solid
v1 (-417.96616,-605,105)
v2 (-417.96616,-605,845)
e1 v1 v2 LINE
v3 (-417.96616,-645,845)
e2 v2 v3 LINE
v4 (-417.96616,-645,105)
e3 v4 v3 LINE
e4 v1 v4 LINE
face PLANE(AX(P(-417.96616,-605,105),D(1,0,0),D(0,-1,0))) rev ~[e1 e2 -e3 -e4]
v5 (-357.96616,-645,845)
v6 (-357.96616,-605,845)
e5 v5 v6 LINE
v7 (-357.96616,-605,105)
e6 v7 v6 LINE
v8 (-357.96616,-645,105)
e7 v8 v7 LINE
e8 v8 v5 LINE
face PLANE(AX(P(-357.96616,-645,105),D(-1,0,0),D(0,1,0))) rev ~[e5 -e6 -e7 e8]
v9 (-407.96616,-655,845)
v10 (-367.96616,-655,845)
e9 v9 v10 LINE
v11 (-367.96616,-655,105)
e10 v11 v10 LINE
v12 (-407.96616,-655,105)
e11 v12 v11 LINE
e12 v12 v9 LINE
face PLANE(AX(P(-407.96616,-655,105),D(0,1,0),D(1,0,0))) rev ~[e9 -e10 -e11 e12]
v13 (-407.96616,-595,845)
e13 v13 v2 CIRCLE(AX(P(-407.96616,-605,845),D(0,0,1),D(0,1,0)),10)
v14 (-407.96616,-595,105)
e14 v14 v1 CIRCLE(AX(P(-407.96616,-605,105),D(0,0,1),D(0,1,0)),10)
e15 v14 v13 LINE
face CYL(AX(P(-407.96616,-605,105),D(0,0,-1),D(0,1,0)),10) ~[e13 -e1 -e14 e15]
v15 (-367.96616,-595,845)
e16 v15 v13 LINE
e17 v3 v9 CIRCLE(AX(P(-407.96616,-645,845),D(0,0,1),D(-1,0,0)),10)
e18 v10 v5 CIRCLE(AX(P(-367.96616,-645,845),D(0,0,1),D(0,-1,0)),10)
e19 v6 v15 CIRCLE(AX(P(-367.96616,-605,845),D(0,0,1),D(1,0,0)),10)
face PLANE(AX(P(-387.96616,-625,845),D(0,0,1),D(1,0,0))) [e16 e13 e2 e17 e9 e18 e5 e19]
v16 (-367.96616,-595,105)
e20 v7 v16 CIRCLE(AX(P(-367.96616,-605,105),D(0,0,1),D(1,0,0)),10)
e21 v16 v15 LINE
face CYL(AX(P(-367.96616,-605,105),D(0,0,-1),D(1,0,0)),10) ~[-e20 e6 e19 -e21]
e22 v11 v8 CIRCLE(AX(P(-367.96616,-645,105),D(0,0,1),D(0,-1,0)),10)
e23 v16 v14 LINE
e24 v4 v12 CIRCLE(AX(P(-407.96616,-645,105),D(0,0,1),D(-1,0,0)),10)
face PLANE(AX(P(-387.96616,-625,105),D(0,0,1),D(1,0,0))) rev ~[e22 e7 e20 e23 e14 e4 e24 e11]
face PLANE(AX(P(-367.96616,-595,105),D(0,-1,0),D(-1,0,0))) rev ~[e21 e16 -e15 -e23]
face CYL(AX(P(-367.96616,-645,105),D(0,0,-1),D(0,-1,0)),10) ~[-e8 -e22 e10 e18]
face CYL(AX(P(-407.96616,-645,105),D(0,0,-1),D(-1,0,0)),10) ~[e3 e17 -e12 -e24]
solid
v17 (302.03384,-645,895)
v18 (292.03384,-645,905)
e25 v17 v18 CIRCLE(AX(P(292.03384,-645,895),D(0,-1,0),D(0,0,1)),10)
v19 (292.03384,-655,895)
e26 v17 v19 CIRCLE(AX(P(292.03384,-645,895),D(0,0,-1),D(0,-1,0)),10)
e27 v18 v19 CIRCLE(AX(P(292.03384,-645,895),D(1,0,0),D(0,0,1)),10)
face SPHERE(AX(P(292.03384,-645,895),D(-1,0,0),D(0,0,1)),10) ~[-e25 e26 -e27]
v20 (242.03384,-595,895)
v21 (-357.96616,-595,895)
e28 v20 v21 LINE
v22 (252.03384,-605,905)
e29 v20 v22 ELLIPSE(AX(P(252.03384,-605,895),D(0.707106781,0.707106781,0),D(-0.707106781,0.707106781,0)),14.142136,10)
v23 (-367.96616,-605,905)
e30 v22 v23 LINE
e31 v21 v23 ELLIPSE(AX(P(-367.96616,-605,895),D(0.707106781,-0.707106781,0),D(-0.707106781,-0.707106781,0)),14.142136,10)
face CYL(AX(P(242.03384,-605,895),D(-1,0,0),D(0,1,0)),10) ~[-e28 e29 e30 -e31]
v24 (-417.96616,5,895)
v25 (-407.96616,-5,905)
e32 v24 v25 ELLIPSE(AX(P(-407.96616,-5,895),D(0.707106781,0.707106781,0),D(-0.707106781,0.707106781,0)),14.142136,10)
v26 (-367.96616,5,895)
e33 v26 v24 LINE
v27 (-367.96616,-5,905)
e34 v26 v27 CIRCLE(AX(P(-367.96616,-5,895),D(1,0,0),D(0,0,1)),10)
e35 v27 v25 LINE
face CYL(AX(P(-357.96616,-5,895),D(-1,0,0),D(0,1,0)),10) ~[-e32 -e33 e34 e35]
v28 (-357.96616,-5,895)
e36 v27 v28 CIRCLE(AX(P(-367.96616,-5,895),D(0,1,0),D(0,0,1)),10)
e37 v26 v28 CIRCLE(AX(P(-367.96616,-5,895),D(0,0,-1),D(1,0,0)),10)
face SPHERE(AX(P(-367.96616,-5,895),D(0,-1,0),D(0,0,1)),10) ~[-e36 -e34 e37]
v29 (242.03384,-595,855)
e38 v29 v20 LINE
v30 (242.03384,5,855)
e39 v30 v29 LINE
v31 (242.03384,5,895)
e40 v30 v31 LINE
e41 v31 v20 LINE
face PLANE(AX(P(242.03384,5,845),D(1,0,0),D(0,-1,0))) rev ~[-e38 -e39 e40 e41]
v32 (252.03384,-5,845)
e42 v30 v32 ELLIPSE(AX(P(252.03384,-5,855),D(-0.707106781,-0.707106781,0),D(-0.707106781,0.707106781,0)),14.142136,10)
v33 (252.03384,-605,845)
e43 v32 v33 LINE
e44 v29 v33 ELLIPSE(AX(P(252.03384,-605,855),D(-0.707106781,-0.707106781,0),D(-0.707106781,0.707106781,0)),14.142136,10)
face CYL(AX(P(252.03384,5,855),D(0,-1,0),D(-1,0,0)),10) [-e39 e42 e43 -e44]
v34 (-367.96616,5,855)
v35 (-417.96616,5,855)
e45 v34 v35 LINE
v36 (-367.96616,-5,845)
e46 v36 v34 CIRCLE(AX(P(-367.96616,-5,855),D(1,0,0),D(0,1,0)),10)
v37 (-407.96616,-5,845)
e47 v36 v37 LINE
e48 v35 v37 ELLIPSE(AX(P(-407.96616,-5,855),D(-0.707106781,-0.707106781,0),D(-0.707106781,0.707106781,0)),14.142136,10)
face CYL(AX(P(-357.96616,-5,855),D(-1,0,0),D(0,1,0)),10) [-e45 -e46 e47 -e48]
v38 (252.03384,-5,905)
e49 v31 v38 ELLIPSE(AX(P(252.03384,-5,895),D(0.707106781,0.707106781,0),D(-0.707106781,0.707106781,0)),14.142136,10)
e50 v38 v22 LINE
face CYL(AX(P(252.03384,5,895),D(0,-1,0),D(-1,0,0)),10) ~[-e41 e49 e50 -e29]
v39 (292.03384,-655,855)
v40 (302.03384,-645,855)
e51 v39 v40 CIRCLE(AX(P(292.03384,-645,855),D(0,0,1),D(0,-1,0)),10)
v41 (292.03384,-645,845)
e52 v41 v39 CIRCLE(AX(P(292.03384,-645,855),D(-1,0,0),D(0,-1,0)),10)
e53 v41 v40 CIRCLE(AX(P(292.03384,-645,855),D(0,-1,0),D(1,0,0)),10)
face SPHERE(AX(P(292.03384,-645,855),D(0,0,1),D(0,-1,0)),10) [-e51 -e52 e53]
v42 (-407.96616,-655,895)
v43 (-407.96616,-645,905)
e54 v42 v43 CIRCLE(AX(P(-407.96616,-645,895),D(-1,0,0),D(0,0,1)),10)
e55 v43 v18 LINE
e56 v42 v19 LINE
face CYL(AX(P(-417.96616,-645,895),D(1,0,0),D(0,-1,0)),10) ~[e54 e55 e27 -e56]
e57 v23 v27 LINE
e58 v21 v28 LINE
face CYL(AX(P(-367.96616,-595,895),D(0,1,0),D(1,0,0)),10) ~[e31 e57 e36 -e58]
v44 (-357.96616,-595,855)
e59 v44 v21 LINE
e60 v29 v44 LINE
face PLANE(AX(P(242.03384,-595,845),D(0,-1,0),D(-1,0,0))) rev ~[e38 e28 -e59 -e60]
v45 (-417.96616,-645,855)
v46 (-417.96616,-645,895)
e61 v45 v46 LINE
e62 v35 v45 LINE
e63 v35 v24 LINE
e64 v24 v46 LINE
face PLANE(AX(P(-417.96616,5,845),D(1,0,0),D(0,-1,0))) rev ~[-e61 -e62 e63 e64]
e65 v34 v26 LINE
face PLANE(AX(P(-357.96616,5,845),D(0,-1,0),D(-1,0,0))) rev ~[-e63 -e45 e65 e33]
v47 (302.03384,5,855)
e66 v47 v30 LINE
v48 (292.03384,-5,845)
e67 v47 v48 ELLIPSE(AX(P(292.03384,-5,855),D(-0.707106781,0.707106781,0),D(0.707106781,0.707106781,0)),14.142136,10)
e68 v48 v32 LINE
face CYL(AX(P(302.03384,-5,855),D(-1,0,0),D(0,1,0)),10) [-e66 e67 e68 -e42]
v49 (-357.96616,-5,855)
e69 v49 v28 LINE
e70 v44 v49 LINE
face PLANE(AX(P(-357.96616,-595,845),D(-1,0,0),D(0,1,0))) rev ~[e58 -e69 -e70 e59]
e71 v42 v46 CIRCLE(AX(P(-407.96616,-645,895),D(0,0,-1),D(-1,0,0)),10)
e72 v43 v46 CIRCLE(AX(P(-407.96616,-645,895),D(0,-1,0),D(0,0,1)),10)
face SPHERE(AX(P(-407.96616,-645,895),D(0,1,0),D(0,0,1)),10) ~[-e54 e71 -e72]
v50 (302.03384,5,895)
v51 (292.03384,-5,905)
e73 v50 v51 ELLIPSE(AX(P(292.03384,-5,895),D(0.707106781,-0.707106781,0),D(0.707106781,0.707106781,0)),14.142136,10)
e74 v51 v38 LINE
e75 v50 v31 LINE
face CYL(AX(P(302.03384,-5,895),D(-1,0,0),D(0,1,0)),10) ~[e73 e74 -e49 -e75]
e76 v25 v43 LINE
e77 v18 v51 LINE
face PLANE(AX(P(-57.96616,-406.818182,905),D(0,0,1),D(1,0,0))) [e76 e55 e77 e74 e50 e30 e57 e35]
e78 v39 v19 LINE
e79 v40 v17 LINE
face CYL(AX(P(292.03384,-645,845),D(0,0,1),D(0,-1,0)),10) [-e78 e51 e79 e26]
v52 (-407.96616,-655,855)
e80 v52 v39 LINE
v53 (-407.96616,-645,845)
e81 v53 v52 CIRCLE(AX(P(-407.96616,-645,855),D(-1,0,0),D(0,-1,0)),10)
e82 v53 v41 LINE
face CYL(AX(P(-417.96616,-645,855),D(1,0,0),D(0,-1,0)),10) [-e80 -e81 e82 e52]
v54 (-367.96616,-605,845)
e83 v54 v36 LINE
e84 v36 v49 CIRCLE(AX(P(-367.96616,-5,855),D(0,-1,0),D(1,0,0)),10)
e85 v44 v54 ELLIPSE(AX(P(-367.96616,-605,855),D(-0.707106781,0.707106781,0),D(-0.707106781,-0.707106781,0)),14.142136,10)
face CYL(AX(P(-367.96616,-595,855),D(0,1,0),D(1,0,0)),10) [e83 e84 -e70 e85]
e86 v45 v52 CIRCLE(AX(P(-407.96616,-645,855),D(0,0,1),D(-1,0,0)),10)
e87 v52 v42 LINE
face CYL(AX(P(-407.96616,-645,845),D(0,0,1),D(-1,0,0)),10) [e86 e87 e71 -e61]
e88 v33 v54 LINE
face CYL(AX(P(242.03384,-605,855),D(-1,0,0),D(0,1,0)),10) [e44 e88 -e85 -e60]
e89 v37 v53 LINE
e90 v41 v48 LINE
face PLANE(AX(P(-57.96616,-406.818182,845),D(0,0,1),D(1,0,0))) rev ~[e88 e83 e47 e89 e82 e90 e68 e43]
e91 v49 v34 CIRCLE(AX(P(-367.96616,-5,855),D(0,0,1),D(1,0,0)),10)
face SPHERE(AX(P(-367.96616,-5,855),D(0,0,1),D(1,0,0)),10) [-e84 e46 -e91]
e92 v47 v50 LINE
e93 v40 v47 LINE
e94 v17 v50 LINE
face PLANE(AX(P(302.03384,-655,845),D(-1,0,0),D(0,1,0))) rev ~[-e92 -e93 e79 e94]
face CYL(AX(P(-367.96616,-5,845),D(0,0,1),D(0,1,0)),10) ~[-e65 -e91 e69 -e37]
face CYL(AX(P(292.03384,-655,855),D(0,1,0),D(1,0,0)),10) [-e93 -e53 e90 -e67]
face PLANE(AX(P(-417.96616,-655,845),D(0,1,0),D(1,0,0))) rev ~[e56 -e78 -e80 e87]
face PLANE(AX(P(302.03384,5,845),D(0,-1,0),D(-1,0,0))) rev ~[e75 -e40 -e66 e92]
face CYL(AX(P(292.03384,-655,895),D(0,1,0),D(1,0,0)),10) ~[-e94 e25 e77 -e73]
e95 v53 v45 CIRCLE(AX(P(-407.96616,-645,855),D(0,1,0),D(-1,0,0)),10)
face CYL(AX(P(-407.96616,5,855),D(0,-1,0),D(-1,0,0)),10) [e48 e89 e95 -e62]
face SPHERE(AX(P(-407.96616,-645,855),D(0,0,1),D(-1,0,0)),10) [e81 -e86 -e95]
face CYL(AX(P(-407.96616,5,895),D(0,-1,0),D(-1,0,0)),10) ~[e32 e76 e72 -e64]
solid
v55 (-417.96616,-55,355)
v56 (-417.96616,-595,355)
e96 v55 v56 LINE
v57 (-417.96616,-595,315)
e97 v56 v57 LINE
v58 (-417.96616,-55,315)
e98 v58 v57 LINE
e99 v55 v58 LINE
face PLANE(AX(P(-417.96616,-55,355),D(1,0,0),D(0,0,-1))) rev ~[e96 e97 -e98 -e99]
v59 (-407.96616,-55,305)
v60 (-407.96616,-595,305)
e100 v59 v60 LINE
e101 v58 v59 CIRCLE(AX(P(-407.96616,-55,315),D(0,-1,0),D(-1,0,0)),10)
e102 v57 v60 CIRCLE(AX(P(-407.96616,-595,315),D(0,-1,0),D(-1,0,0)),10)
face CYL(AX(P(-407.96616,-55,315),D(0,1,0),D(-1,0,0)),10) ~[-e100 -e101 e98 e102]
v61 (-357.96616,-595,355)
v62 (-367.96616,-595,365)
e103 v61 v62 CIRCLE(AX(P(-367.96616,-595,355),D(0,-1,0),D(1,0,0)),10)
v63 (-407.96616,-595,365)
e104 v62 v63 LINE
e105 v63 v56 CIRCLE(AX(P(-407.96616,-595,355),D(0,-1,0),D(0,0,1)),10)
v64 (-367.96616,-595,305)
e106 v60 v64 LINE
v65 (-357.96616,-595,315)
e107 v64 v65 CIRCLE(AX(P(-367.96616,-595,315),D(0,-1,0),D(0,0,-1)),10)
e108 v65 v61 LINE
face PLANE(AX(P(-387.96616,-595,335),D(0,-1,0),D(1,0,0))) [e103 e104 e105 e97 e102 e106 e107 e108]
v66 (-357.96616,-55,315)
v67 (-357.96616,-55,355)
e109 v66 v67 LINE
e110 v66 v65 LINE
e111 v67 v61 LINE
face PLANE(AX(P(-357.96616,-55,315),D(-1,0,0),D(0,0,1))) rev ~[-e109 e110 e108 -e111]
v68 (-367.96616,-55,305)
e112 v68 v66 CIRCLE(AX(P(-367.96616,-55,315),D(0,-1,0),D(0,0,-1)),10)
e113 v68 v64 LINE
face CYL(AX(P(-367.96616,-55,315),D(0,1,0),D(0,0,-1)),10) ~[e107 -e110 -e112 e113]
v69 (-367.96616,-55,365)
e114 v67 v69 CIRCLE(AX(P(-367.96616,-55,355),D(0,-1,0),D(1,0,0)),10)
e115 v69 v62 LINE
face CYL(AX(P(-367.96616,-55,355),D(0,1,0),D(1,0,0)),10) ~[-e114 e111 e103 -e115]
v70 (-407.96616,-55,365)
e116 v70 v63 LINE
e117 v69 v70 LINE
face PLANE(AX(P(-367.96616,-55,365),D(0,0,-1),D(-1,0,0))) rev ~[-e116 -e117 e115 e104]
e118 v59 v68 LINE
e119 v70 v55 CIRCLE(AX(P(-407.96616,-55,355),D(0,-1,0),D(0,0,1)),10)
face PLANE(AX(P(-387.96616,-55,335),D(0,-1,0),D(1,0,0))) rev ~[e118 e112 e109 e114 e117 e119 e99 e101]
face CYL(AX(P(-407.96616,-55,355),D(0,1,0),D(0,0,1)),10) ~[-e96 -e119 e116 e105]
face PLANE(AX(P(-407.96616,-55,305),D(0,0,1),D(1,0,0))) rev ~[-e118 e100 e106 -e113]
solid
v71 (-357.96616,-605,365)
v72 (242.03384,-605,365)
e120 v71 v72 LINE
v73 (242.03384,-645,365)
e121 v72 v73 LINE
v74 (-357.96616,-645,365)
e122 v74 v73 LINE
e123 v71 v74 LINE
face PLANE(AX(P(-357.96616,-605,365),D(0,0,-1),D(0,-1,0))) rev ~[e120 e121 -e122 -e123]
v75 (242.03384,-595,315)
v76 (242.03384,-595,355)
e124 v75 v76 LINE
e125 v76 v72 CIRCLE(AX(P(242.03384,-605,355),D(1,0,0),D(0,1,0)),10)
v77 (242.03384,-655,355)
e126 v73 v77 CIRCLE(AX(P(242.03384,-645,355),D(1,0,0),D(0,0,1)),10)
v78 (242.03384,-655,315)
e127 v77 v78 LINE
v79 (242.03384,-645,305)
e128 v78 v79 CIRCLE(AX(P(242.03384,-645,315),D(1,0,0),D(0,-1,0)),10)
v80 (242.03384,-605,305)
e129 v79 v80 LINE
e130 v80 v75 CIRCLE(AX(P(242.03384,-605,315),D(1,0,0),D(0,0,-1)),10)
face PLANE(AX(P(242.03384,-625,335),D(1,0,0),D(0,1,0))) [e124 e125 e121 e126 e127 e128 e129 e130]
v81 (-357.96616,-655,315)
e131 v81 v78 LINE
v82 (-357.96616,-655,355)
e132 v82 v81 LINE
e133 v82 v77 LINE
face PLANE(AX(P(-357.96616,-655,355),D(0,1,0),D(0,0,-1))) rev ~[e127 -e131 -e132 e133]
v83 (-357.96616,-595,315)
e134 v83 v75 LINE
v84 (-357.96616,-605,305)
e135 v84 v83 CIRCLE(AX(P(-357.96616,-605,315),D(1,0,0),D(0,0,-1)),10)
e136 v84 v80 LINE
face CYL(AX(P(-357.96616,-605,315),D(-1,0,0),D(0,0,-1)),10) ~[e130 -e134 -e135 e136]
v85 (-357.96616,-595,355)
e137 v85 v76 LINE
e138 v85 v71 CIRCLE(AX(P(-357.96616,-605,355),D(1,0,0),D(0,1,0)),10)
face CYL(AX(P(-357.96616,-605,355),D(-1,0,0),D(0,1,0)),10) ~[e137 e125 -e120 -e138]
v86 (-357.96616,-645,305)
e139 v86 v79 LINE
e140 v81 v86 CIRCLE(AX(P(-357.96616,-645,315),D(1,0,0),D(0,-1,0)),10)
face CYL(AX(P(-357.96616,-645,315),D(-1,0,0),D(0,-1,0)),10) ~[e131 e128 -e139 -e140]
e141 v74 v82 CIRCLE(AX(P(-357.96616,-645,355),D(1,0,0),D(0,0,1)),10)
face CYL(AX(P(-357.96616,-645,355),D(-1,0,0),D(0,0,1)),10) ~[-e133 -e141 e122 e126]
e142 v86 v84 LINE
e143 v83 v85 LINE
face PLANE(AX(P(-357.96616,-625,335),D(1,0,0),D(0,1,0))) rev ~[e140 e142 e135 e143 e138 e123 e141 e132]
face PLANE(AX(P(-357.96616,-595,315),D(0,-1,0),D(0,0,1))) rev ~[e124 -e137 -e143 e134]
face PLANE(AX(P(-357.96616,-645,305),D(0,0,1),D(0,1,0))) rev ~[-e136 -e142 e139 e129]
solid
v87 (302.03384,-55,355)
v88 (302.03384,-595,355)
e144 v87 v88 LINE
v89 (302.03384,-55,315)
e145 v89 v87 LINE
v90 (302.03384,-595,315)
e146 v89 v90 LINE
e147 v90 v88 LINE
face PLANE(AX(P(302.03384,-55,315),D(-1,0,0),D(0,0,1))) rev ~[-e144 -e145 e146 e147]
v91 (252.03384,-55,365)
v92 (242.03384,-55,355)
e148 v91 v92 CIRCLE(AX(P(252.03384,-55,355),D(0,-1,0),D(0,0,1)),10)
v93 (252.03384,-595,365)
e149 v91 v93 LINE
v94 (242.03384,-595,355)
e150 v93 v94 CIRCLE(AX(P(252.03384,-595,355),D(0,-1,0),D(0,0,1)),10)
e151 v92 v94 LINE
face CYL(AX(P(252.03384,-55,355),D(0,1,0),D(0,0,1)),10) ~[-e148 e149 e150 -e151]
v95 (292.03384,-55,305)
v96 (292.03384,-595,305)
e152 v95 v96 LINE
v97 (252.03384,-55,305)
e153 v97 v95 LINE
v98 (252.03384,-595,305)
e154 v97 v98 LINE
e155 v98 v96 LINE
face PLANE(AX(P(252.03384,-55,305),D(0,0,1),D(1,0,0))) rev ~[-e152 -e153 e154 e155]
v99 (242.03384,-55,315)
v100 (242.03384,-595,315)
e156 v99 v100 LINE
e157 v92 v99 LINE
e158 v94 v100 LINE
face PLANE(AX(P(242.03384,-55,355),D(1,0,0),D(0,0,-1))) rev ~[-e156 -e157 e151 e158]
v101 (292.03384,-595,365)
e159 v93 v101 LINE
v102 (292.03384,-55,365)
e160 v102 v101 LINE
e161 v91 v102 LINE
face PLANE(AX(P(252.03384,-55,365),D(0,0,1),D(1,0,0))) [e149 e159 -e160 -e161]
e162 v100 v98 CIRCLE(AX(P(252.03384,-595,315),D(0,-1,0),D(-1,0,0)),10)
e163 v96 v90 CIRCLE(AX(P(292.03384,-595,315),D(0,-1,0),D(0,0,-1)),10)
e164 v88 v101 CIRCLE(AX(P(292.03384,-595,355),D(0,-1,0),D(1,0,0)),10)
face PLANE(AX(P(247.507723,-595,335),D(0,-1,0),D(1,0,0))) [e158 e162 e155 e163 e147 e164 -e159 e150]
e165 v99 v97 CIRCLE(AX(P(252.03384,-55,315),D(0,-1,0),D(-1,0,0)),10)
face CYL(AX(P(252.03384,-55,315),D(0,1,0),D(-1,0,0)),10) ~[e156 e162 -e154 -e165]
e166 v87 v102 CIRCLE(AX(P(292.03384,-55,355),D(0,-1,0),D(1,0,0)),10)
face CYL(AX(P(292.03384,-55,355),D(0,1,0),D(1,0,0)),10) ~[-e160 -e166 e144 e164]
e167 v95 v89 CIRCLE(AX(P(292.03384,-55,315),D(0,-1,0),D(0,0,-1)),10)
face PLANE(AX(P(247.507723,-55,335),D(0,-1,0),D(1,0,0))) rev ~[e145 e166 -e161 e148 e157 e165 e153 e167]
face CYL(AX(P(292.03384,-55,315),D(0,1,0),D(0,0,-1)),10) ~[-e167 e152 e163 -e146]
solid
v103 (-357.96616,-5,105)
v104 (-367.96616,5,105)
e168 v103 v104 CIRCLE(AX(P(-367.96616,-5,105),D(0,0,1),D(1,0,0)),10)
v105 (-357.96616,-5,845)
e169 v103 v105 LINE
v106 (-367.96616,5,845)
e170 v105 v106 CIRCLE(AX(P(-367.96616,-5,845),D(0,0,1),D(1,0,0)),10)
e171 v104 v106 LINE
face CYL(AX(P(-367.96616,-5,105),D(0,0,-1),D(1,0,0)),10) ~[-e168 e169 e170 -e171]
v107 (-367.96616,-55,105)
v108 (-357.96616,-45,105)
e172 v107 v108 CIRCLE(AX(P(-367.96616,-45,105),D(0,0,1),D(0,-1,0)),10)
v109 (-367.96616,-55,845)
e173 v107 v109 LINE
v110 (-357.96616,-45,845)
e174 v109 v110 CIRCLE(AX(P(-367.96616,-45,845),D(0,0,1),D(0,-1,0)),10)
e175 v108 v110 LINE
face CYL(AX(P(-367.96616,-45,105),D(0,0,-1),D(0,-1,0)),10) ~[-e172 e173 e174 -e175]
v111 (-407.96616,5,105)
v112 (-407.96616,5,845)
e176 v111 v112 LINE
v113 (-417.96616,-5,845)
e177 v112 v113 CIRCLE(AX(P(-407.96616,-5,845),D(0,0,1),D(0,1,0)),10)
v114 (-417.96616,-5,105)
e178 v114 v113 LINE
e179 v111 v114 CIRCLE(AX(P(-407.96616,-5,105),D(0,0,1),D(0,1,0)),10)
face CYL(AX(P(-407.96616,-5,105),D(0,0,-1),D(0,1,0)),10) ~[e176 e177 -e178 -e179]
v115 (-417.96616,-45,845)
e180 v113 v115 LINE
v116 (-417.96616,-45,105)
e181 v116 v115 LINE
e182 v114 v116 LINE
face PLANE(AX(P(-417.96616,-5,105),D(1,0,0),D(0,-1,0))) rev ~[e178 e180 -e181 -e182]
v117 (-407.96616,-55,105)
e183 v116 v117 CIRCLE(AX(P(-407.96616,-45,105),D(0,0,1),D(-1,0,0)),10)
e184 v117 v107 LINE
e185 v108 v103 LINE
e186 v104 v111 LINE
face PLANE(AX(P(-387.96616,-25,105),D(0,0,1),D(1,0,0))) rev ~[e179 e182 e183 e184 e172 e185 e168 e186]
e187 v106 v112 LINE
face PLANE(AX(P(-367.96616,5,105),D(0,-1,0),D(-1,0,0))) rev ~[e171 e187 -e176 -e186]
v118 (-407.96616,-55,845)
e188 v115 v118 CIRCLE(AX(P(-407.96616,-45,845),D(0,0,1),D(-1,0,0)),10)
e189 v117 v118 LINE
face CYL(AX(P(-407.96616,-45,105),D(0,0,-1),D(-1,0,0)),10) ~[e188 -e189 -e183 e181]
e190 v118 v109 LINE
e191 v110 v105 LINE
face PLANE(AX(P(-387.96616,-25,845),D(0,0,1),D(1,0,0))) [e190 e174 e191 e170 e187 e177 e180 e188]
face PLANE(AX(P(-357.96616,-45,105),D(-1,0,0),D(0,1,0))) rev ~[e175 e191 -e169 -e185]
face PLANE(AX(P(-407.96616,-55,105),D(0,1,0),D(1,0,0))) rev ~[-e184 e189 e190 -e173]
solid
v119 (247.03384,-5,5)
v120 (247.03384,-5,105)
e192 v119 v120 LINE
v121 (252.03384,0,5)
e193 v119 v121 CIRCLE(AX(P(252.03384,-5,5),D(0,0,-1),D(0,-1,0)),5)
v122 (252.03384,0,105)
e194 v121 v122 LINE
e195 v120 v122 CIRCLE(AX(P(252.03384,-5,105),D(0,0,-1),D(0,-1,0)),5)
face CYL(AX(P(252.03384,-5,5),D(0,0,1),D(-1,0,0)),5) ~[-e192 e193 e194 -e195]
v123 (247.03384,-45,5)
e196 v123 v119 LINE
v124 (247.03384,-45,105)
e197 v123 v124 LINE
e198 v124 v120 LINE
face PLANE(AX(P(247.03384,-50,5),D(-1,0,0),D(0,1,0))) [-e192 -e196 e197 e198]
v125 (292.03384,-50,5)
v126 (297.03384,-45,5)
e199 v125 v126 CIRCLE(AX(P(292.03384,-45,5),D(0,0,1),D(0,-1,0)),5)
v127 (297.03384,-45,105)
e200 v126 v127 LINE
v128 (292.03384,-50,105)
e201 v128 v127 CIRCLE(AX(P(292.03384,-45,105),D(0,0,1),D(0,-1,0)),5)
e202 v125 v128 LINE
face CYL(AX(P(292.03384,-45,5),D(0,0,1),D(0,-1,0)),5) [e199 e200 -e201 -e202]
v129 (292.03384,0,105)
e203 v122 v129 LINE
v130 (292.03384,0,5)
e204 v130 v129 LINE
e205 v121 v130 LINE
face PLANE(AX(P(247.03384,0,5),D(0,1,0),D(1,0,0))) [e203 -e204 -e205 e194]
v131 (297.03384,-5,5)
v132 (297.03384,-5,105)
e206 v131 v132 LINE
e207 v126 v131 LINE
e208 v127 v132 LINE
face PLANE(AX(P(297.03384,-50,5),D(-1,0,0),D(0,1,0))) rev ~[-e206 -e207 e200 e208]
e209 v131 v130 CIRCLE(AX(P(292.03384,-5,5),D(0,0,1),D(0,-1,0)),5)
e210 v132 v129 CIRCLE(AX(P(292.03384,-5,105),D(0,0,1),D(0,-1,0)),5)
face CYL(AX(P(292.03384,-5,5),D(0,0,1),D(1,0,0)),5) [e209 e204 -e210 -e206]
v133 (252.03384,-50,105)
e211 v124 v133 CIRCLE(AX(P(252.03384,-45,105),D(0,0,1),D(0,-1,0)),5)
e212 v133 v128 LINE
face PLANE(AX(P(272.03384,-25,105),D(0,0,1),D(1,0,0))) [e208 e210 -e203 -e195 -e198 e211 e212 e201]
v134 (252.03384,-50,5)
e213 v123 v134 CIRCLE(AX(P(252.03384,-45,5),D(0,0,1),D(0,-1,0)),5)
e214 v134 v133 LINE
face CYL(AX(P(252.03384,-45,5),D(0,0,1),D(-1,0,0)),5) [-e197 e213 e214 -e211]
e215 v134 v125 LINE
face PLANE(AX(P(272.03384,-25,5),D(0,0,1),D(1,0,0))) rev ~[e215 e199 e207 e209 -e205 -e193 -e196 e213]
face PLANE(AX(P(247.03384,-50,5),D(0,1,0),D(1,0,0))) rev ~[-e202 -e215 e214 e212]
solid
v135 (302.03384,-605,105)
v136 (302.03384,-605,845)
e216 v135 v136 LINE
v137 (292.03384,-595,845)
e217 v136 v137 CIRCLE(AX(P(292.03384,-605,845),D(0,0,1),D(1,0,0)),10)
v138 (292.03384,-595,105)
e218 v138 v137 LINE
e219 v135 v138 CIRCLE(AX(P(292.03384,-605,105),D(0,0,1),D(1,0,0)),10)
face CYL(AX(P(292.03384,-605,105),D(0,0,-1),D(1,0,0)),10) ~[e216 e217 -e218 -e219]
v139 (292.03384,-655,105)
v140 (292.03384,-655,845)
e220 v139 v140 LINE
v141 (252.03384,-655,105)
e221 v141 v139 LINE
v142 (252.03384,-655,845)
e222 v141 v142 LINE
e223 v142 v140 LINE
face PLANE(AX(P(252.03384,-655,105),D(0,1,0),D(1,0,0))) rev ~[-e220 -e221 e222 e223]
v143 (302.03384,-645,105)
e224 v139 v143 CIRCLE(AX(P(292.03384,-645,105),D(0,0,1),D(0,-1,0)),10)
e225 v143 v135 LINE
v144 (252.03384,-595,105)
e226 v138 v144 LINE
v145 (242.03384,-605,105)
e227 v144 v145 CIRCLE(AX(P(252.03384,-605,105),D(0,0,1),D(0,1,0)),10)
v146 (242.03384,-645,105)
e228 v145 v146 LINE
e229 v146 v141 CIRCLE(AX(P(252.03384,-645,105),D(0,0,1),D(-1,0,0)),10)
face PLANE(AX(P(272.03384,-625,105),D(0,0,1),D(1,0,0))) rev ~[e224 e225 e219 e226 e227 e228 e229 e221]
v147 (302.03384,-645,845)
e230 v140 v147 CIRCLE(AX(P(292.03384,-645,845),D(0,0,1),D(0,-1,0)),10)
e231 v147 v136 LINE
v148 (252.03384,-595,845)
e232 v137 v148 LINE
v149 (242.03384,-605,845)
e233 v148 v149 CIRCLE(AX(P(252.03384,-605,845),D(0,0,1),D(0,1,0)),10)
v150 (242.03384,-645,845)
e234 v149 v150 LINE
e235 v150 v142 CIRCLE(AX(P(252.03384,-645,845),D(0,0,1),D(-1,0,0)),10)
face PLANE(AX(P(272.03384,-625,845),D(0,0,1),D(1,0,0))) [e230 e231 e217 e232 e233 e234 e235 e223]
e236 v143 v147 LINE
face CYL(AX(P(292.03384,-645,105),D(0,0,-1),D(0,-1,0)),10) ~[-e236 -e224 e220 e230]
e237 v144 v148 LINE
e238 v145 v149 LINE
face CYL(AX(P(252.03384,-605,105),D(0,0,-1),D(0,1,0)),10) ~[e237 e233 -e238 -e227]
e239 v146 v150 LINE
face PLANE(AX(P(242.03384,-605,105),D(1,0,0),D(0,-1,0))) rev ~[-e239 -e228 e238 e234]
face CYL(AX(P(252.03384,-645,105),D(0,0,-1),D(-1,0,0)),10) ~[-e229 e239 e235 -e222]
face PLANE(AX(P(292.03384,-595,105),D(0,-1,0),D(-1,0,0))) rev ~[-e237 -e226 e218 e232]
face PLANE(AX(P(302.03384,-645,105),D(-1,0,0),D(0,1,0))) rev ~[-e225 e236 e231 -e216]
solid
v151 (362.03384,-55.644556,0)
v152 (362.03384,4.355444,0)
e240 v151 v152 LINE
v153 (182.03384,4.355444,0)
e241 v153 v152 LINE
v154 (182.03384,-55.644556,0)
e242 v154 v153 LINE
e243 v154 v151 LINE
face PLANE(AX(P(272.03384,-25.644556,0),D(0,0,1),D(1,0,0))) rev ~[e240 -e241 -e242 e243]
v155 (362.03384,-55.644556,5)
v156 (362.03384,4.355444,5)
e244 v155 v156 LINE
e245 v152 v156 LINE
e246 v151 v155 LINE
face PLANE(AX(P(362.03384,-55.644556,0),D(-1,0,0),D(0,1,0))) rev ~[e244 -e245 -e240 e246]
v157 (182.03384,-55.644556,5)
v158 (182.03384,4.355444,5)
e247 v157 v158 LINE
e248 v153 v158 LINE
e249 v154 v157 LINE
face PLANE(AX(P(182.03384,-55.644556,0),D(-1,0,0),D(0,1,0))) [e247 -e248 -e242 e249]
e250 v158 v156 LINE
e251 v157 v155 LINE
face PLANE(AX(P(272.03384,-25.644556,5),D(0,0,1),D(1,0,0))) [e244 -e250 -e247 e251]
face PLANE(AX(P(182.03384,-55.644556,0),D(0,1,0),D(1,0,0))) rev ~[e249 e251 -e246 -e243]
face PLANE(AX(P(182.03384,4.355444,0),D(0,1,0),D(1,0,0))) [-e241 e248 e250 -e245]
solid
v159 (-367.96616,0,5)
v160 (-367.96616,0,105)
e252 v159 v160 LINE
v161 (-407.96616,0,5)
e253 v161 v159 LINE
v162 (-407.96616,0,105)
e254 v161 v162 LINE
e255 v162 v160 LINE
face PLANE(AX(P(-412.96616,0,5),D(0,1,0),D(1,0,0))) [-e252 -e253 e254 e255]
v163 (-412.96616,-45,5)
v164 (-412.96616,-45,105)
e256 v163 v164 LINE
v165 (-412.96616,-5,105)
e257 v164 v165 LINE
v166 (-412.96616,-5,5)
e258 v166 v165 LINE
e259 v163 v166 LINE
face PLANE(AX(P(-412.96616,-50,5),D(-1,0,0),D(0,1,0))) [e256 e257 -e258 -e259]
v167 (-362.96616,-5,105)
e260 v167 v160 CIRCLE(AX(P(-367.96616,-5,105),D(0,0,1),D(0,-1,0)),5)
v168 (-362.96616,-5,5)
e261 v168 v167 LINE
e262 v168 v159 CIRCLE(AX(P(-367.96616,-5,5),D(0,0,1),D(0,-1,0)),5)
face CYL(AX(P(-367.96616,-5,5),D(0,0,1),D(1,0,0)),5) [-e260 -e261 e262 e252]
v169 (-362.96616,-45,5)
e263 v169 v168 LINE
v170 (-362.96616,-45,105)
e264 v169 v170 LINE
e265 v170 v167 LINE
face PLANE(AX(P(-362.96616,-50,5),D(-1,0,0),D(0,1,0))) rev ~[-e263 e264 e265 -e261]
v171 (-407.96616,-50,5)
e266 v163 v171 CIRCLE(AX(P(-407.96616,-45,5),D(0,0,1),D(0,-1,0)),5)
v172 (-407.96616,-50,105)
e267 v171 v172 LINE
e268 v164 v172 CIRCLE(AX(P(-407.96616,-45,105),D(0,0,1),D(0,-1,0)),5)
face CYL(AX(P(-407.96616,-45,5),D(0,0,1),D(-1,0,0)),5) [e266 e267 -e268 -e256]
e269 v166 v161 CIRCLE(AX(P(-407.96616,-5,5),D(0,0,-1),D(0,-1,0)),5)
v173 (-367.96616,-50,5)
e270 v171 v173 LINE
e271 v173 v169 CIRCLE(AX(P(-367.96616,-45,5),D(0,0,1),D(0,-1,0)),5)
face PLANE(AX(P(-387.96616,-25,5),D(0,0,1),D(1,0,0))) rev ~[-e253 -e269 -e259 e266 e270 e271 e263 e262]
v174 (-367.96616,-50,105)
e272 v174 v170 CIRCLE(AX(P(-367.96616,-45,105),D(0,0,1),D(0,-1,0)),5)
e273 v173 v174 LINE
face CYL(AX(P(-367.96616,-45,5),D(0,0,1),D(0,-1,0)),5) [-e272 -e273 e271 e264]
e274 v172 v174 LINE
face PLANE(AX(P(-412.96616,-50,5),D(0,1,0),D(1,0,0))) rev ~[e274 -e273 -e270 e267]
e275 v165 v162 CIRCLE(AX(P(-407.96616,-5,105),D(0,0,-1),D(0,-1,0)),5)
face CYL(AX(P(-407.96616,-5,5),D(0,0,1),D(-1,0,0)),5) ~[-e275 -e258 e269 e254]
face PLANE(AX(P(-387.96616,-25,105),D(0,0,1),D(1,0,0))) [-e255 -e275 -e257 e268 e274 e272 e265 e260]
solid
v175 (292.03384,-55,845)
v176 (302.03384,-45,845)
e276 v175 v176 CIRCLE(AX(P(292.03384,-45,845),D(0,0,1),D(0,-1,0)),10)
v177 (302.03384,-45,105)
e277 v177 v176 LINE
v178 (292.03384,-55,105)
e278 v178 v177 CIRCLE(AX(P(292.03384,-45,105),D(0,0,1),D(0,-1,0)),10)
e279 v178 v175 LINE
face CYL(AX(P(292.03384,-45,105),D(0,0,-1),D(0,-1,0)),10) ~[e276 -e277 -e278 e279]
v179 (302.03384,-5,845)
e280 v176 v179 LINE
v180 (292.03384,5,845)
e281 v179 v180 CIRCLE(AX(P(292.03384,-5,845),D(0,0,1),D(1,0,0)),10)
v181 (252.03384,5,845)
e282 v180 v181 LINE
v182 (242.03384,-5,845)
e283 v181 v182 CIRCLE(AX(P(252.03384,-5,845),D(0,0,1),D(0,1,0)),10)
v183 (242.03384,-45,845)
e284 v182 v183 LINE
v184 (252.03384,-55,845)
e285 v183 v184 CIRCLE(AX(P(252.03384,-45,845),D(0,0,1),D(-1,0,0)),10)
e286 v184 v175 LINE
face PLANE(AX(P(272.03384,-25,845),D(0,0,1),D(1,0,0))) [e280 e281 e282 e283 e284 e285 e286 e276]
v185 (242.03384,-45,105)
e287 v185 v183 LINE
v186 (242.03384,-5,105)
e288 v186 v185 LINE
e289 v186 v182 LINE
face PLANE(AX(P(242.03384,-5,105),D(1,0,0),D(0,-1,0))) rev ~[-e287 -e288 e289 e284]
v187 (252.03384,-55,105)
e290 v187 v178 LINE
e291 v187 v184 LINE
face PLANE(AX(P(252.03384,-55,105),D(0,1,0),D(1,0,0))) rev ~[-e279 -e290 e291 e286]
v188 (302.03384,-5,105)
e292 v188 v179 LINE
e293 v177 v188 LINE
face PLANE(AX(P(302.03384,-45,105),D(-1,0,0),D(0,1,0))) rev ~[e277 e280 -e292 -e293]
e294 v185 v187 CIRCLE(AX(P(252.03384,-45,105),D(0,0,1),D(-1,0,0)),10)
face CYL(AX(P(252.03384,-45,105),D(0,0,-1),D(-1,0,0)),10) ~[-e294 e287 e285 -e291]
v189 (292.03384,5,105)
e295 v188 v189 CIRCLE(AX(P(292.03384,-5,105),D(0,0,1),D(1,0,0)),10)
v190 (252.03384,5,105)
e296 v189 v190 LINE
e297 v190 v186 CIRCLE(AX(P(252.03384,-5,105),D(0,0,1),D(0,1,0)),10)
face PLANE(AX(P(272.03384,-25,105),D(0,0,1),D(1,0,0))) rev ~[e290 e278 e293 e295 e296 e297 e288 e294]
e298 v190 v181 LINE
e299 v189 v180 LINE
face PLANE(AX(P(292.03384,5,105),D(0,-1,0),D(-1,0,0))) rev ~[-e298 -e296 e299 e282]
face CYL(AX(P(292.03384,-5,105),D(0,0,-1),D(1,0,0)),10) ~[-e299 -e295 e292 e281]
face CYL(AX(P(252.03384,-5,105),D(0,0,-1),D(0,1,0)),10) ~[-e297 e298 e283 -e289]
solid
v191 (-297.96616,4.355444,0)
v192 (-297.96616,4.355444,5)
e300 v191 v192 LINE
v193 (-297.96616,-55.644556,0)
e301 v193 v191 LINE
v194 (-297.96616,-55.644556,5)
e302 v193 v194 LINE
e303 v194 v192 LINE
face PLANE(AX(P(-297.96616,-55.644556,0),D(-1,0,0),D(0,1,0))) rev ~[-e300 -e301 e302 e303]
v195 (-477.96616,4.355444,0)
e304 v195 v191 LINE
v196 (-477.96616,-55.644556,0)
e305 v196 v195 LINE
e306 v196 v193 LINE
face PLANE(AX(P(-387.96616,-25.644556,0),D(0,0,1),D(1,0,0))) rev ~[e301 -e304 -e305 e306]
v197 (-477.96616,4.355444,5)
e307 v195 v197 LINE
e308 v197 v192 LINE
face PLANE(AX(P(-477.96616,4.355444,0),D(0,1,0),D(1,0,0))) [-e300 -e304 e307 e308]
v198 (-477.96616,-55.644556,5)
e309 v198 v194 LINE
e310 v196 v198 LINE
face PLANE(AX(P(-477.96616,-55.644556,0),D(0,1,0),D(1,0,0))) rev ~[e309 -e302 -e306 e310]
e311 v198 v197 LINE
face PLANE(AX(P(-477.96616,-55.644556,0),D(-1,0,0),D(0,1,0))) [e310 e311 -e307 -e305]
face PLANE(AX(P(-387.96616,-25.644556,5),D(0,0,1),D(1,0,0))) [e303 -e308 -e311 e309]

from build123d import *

# Parameters (mm, degrees)
F0_W      = 180
F0_H      = 60
F1_DEPTH  = 5
F2_W      = 50
F2_H      = 50
F3_DEPTH  = 100
F4_R      = 5
F4_2_R    = 5
F6_DEPTH  = 740
F8_DEPTH  = 60
F9_R      = 10
F11_DEPTH = 600
F13_DEPTH = 540
F12_W     = 40
F12_H     = 60


with BuildPart() as f1:
    # F0 (on Top) → F1 (new body)
    with BuildSketch(Plane.XY):
        with Locations((-387.9661596795, -25.6445559366)):
            Rectangle(F0_W, F0_H)
    extrude(amount=F1_DEPTH)


with BuildPart() as f1b:
    # F0 (on Top) → F1, piece 2 (new body)
    with BuildSketch(Plane.XY):
        with Locations((272.0338403205, -25.6445559366)):
            Rectangle(F0_W, F0_H)
    extrude(amount=F1_DEPTH)


with BuildPart() as f3:
    # F2 (on face) → F3 (new body)
    with BuildSketch(Plane.XY.offset(5)):
        with Locations((-387.9661596795, -25)):
            Rectangle(F2_W, F2_H)
    extrude(amount=F3_DEPTH)

    # F4
    f4_edges = [f3.edges().sort_by_distance(p)[0] for p in [
        (-412.96616, -50, 55),
        (-362.96616, -50, 55),
        (-412.96616, 0, 55),
        (-362.96616, 0, 55),
    ]]
    fillet(f4_edges, radius=F4_R)


with BuildPart() as f3b:
    # F2 (on face) → F3, piece 2 (new body)
    with BuildSketch(Plane.XY.offset(5)):
        with Locations((272.0338403205, -25)):
            Rectangle(F2_W, F2_H)
    extrude(amount=F3_DEPTH)

    # F4#2
    f4_2_edges = [f3b.edges().sort_by_distance(p)[0] for p in [
        (297.03384, 0, 55),
        (247.03384, 0, 55),
        (297.03384, -50, 55),
        (247.03384, -50, 55),
    ]]
    fillet(f4_2_edges, radius=F4_2_R)


with BuildPart() as f6:
    # F5 (on face) → F6 (new body)
    with BuildSketch(Plane.XY.offset(105)):
        with BuildLine():
            Line((-367.9661596795, 5), (-407.9661596795, 5))
            ThreePointArc((-407.9661596795, 5), (-415.0372274914, 2.0710678119), (-417.9661596795, -5))
            Line((-417.9661596795, -5), (-417.9661596795, -45))
            ThreePointArc((-417.9661596795, -45), (-415.0372274914, -52.0710678119), (-407.9661596795, -55))
            Line((-407.9661596795, -55), (-367.9661596795, -55))
            ThreePointArc((-367.9661596795, -55), (-360.8950918677, -52.0710678119), (-357.9661596795, -45))
            Line((-357.9661596795, -45), (-357.9661596795, -5))
            ThreePointArc((-357.9661596795, -5), (-360.8950918677, 2.0710678119), (-367.9661596795, 5))
        make_face()
        with BuildLine():
            Line((-407.9661596795, 0), (-367.9661596795, 0))
            ThreePointArc((-367.9661596795, 0), (-364.4306257736, -1.4644660941), (-362.9661596795, -5))
            Line((-362.9661596795, -5), (-362.9661596795, -45))
            ThreePointArc((-362.9661596795, -45), (-364.4306257736, -48.5355339059), (-367.9661596795, -50))
            Line((-367.9661596795, -50), (-407.9661596795, -50))
            ThreePointArc((-407.9661596795, -50), (-411.5016935855, -48.5355339059), (-412.9661596795, -45))
            Line((-412.9661596795, -45), (-412.9661596795, -5))
            ThreePointArc((-412.9661596795, -5), (-411.5016935855, -1.4644660941), (-407.9661596795, 0))
        make_face(mode=Mode.SUBTRACT)
        with BuildLine():
            ThreePointArc((-362.9661596795, -5), (-364.4306257736, -1.4644660941), (-367.9661596795, 0))
            Line((-367.9661596795, 0), (-407.9661596795, 0))
            ThreePointArc((-407.9661596795, 0), (-411.5016935855, -1.4644660941), (-412.9661596795, -5))
            Line((-412.9661596795, -5), (-412.9661596795, -45))
            ThreePointArc((-412.9661596795, -45), (-411.5016935855, -48.5355339059), (-407.9661596795, -50))
            Line((-407.9661596795, -50), (-367.9661596795, -50))
            ThreePointArc((-367.9661596795, -50), (-364.4306257736, -48.5355339059), (-362.9661596795, -45))
            Line((-362.9661596795, -45), (-362.9661596795, -5))
        make_face()
    extrude(amount=F6_DEPTH)


with BuildPart() as f6b:
    # F5 (on face) → F6, piece 2 (new body)
    with BuildSketch(Plane.XY.offset(105)):
        with BuildLine():
            Line((292.0338403205, 5), (252.0338403205, 5))
            ThreePointArc((252.0338403205, 5), (244.9627725086, 2.0710678119), (242.0338403205, -5))
            Line((242.0338403205, -5), (242.0338403205, -45))
            ThreePointArc((242.0338403205, -45), (244.9627725086, -52.0710678119), (252.0338403205, -55))
            Line((252.0338403205, -55), (292.0338403205, -55))
            ThreePointArc((292.0338403205, -55), (299.1049081323, -52.0710678119), (302.0338403205, -45))
            Line((302.0338403205, -45), (302.0338403205, -5))
            ThreePointArc((302.0338403205, -5), (299.1049081323, 2.0710678119), (292.0338403205, 5))
        make_face()
    extrude(amount=F6_DEPTH)


with BuildPart() as f6c:
    # F5 (on face) → F6, piece 3 (new body)
    with BuildSketch(Plane.XY.offset(105)):
        with BuildLine():
            ThreePointArc((242.0338403205, -645), (244.9627725086, -652.0710678119), (252.0338403205, -655))
            Line((252.0338403205, -655), (292.0338403205, -655))
            ThreePointArc((292.0338403205, -655), (299.1049081323, -652.0710678119), (302.0338403205, -645))
            Line((302.0338403205, -645), (302.0338403205, -605))
            ThreePointArc((302.0338403205, -605), (299.1049081323, -597.9289321881), (292.0338403205, -595))
            Line((292.0338403205, -595), (252.0338403205, -595))
            ThreePointArc((252.0338403205, -595), (244.9627725086, -597.9289321881), (242.0338403205, -605))
            Line((242.0338403205, -605), (242.0338403205, -645))
        make_face()
    extrude(amount=F6_DEPTH)


with BuildPart() as f6d:
    # F5 (on face) → F6, piece 4 (new body)
    with BuildSketch(Plane.XY.offset(105)):
        with BuildLine():
            ThreePointArc((-417.9661596795, -645), (-415.0372274914, -652.0710678119), (-407.9661596795, -655))
            Line((-407.9661596795, -655), (-367.9661596795, -655))
            ThreePointArc((-367.9661596795, -655), (-360.8950918677, -652.0710678119), (-357.9661596795, -645))
            Line((-357.9661596795, -645), (-357.9661596795, -605))
            ThreePointArc((-357.9661596795, -605), (-360.8950918677, -597.9289321881), (-367.9661596795, -595))
            Line((-367.9661596795, -595), (-407.9661596795, -595))
            ThreePointArc((-407.9661596795, -595), (-415.0372274914, -597.9289321881), (-417.9661596795, -605))
            Line((-417.9661596795, -605), (-417.9661596795, -645))
        make_face()
    extrude(amount=F6_DEPTH)


with BuildPart() as f8:
    # F7 (on face) → F8 (new body)
    with BuildSketch(Plane.XY.offset(845)):
        Polygon((-357.9661596795, 5), (-417.9661596795, 5), (-417.9661596795, -655), (302.0338403205, -655), (302.0338403205, 5), (242.0338403205, 5), (242.0338403205, -55), (242.0338403205, -595), (-357.9661596795, -595), (-357.9661596795, -55), align=None)
    extrude(amount=F8_DEPTH)

    # F9
    f9_edges = [f8.edges().sort_by_distance(p)[0] for p in [
        (-57.96616, -595, 905),
        (-357.96616, -295, 905),
        (-387.96616, 5, 905),
        (-417.96616, -325, 905),
        (-57.96616, -655, 905),
        (302.03384, -325, 905),
        (272.03384, 5, 905),
        (242.03384, -295, 905),
        (-417.96616, -655, 875),
        (302.03384, -655, 875),
        (-357.96616, 5, 875),
        (-57.96616, -595, 845),
        (-357.96616, -295, 845),
        (-387.96616, 5, 845),
        (-417.96616, -325, 845),
        (-57.96616, -655, 845),
        (302.03384, -325, 845),
        (272.03384, 5, 845),
        (242.03384, -295, 845),
    ]]
    fillet(f9_edges, radius=F9_R)


with BuildPart() as f11:
    # F10 (on face) → F11 (new body)
    with BuildSketch(Plane.YZ.offset(-357.9661596795)):
        with BuildLine():
            ThreePointArc((-655, 315), (-652.0710678119, 307.9289321881), (-645, 305))
            Line((-645, 305), (-605, 305))
            ThreePointArc((-605, 305), (-597.9289321881, 307.9289321881), (-595, 315))
            Line((-595, 315), (-595, 355))
            ThreePointArc((-595, 355), (-597.9289321881, 362.0710678119), (-605, 365))
            Line((-605, 365), (-645, 365))
            ThreePointArc((-645, 365), (-652.0710678119, 362.0710678119), (-655, 355))
            Line((-655, 355), (-655, 315))
        make_face()
    extrude(amount=F11_DEPTH)


with BuildPart() as f13:
    # F12 (on face) → F13 (new body)
    with BuildSketch(Plane.XZ.offset(55)):
        with BuildLine():
            ThreePointArc((-357.9661596795, 355), (-360.8950918677, 362.0710678119), (-367.9661596795, 365))
            Line((-367.9661596795, 365), (-407.9661596795, 365))
            ThreePointArc((-407.9661596795, 365), (-415.0372274914, 362.0710678119), (-417.9661596795, 355))
            Line((-417.9661596795, 355), (-417.9661596795, 315))
            ThreePointArc((-417.9661596795, 315), (-415.0372274914, 307.9289321881), (-407.9661596795, 305))
            Line((-407.9661596795, 305), (-367.9661596795, 305))
            ThreePointArc((-367.9661596795, 305), (-360.8950918677, 307.9289321881), (-357.9661596795, 315))
            Line((-357.9661596795, 315), (-357.9661596795, 355))
        make_face()
    extrude(amount=F13_DEPTH)


with BuildPart() as f13b:
    # F12 (on face) → F13, piece 2 (new body)
    with BuildSketch(Plane.XZ.offset(55)):
        with BuildLine():
            ThreePointArc((242.0338403205, 315), (244.9627725086, 307.9289321881), (252.0338403205, 305))
            Line((252.0338403205, 305), (252.0338403205, 365))
            ThreePointArc((252.0338403205, 365), (244.9627725086, 362.0710678119), (242.0338403205, 355))
            Line((242.0338403205, 355), (242.0338403205, 315))
        make_face()
        with Locations((272.0338403205, 335)):
            Rectangle(F12_W, F12_H)
        with BuildLine():
            Line((292.0338403205, 365), (292.0338403205, 305))
            ThreePointArc((292.0338403205, 305), (299.1049081323, 307.9289321881), (302.0338403205, 315))
            Line((302.0338403205, 315), (302.0338403205, 355))
            ThreePointArc((302.0338403205, 355), (299.1049081323, 362.0710678119), (292.0338403205, 365))
        make_face()
    extrude(amount=F13_DEPTH)


solid = Compound([f1.part, f1b.part, f3.part, f3b.part, f6.part, f6b.part, f6c.part, f6d.part, f8.part, f11.part, f13.part, f13b.part])
